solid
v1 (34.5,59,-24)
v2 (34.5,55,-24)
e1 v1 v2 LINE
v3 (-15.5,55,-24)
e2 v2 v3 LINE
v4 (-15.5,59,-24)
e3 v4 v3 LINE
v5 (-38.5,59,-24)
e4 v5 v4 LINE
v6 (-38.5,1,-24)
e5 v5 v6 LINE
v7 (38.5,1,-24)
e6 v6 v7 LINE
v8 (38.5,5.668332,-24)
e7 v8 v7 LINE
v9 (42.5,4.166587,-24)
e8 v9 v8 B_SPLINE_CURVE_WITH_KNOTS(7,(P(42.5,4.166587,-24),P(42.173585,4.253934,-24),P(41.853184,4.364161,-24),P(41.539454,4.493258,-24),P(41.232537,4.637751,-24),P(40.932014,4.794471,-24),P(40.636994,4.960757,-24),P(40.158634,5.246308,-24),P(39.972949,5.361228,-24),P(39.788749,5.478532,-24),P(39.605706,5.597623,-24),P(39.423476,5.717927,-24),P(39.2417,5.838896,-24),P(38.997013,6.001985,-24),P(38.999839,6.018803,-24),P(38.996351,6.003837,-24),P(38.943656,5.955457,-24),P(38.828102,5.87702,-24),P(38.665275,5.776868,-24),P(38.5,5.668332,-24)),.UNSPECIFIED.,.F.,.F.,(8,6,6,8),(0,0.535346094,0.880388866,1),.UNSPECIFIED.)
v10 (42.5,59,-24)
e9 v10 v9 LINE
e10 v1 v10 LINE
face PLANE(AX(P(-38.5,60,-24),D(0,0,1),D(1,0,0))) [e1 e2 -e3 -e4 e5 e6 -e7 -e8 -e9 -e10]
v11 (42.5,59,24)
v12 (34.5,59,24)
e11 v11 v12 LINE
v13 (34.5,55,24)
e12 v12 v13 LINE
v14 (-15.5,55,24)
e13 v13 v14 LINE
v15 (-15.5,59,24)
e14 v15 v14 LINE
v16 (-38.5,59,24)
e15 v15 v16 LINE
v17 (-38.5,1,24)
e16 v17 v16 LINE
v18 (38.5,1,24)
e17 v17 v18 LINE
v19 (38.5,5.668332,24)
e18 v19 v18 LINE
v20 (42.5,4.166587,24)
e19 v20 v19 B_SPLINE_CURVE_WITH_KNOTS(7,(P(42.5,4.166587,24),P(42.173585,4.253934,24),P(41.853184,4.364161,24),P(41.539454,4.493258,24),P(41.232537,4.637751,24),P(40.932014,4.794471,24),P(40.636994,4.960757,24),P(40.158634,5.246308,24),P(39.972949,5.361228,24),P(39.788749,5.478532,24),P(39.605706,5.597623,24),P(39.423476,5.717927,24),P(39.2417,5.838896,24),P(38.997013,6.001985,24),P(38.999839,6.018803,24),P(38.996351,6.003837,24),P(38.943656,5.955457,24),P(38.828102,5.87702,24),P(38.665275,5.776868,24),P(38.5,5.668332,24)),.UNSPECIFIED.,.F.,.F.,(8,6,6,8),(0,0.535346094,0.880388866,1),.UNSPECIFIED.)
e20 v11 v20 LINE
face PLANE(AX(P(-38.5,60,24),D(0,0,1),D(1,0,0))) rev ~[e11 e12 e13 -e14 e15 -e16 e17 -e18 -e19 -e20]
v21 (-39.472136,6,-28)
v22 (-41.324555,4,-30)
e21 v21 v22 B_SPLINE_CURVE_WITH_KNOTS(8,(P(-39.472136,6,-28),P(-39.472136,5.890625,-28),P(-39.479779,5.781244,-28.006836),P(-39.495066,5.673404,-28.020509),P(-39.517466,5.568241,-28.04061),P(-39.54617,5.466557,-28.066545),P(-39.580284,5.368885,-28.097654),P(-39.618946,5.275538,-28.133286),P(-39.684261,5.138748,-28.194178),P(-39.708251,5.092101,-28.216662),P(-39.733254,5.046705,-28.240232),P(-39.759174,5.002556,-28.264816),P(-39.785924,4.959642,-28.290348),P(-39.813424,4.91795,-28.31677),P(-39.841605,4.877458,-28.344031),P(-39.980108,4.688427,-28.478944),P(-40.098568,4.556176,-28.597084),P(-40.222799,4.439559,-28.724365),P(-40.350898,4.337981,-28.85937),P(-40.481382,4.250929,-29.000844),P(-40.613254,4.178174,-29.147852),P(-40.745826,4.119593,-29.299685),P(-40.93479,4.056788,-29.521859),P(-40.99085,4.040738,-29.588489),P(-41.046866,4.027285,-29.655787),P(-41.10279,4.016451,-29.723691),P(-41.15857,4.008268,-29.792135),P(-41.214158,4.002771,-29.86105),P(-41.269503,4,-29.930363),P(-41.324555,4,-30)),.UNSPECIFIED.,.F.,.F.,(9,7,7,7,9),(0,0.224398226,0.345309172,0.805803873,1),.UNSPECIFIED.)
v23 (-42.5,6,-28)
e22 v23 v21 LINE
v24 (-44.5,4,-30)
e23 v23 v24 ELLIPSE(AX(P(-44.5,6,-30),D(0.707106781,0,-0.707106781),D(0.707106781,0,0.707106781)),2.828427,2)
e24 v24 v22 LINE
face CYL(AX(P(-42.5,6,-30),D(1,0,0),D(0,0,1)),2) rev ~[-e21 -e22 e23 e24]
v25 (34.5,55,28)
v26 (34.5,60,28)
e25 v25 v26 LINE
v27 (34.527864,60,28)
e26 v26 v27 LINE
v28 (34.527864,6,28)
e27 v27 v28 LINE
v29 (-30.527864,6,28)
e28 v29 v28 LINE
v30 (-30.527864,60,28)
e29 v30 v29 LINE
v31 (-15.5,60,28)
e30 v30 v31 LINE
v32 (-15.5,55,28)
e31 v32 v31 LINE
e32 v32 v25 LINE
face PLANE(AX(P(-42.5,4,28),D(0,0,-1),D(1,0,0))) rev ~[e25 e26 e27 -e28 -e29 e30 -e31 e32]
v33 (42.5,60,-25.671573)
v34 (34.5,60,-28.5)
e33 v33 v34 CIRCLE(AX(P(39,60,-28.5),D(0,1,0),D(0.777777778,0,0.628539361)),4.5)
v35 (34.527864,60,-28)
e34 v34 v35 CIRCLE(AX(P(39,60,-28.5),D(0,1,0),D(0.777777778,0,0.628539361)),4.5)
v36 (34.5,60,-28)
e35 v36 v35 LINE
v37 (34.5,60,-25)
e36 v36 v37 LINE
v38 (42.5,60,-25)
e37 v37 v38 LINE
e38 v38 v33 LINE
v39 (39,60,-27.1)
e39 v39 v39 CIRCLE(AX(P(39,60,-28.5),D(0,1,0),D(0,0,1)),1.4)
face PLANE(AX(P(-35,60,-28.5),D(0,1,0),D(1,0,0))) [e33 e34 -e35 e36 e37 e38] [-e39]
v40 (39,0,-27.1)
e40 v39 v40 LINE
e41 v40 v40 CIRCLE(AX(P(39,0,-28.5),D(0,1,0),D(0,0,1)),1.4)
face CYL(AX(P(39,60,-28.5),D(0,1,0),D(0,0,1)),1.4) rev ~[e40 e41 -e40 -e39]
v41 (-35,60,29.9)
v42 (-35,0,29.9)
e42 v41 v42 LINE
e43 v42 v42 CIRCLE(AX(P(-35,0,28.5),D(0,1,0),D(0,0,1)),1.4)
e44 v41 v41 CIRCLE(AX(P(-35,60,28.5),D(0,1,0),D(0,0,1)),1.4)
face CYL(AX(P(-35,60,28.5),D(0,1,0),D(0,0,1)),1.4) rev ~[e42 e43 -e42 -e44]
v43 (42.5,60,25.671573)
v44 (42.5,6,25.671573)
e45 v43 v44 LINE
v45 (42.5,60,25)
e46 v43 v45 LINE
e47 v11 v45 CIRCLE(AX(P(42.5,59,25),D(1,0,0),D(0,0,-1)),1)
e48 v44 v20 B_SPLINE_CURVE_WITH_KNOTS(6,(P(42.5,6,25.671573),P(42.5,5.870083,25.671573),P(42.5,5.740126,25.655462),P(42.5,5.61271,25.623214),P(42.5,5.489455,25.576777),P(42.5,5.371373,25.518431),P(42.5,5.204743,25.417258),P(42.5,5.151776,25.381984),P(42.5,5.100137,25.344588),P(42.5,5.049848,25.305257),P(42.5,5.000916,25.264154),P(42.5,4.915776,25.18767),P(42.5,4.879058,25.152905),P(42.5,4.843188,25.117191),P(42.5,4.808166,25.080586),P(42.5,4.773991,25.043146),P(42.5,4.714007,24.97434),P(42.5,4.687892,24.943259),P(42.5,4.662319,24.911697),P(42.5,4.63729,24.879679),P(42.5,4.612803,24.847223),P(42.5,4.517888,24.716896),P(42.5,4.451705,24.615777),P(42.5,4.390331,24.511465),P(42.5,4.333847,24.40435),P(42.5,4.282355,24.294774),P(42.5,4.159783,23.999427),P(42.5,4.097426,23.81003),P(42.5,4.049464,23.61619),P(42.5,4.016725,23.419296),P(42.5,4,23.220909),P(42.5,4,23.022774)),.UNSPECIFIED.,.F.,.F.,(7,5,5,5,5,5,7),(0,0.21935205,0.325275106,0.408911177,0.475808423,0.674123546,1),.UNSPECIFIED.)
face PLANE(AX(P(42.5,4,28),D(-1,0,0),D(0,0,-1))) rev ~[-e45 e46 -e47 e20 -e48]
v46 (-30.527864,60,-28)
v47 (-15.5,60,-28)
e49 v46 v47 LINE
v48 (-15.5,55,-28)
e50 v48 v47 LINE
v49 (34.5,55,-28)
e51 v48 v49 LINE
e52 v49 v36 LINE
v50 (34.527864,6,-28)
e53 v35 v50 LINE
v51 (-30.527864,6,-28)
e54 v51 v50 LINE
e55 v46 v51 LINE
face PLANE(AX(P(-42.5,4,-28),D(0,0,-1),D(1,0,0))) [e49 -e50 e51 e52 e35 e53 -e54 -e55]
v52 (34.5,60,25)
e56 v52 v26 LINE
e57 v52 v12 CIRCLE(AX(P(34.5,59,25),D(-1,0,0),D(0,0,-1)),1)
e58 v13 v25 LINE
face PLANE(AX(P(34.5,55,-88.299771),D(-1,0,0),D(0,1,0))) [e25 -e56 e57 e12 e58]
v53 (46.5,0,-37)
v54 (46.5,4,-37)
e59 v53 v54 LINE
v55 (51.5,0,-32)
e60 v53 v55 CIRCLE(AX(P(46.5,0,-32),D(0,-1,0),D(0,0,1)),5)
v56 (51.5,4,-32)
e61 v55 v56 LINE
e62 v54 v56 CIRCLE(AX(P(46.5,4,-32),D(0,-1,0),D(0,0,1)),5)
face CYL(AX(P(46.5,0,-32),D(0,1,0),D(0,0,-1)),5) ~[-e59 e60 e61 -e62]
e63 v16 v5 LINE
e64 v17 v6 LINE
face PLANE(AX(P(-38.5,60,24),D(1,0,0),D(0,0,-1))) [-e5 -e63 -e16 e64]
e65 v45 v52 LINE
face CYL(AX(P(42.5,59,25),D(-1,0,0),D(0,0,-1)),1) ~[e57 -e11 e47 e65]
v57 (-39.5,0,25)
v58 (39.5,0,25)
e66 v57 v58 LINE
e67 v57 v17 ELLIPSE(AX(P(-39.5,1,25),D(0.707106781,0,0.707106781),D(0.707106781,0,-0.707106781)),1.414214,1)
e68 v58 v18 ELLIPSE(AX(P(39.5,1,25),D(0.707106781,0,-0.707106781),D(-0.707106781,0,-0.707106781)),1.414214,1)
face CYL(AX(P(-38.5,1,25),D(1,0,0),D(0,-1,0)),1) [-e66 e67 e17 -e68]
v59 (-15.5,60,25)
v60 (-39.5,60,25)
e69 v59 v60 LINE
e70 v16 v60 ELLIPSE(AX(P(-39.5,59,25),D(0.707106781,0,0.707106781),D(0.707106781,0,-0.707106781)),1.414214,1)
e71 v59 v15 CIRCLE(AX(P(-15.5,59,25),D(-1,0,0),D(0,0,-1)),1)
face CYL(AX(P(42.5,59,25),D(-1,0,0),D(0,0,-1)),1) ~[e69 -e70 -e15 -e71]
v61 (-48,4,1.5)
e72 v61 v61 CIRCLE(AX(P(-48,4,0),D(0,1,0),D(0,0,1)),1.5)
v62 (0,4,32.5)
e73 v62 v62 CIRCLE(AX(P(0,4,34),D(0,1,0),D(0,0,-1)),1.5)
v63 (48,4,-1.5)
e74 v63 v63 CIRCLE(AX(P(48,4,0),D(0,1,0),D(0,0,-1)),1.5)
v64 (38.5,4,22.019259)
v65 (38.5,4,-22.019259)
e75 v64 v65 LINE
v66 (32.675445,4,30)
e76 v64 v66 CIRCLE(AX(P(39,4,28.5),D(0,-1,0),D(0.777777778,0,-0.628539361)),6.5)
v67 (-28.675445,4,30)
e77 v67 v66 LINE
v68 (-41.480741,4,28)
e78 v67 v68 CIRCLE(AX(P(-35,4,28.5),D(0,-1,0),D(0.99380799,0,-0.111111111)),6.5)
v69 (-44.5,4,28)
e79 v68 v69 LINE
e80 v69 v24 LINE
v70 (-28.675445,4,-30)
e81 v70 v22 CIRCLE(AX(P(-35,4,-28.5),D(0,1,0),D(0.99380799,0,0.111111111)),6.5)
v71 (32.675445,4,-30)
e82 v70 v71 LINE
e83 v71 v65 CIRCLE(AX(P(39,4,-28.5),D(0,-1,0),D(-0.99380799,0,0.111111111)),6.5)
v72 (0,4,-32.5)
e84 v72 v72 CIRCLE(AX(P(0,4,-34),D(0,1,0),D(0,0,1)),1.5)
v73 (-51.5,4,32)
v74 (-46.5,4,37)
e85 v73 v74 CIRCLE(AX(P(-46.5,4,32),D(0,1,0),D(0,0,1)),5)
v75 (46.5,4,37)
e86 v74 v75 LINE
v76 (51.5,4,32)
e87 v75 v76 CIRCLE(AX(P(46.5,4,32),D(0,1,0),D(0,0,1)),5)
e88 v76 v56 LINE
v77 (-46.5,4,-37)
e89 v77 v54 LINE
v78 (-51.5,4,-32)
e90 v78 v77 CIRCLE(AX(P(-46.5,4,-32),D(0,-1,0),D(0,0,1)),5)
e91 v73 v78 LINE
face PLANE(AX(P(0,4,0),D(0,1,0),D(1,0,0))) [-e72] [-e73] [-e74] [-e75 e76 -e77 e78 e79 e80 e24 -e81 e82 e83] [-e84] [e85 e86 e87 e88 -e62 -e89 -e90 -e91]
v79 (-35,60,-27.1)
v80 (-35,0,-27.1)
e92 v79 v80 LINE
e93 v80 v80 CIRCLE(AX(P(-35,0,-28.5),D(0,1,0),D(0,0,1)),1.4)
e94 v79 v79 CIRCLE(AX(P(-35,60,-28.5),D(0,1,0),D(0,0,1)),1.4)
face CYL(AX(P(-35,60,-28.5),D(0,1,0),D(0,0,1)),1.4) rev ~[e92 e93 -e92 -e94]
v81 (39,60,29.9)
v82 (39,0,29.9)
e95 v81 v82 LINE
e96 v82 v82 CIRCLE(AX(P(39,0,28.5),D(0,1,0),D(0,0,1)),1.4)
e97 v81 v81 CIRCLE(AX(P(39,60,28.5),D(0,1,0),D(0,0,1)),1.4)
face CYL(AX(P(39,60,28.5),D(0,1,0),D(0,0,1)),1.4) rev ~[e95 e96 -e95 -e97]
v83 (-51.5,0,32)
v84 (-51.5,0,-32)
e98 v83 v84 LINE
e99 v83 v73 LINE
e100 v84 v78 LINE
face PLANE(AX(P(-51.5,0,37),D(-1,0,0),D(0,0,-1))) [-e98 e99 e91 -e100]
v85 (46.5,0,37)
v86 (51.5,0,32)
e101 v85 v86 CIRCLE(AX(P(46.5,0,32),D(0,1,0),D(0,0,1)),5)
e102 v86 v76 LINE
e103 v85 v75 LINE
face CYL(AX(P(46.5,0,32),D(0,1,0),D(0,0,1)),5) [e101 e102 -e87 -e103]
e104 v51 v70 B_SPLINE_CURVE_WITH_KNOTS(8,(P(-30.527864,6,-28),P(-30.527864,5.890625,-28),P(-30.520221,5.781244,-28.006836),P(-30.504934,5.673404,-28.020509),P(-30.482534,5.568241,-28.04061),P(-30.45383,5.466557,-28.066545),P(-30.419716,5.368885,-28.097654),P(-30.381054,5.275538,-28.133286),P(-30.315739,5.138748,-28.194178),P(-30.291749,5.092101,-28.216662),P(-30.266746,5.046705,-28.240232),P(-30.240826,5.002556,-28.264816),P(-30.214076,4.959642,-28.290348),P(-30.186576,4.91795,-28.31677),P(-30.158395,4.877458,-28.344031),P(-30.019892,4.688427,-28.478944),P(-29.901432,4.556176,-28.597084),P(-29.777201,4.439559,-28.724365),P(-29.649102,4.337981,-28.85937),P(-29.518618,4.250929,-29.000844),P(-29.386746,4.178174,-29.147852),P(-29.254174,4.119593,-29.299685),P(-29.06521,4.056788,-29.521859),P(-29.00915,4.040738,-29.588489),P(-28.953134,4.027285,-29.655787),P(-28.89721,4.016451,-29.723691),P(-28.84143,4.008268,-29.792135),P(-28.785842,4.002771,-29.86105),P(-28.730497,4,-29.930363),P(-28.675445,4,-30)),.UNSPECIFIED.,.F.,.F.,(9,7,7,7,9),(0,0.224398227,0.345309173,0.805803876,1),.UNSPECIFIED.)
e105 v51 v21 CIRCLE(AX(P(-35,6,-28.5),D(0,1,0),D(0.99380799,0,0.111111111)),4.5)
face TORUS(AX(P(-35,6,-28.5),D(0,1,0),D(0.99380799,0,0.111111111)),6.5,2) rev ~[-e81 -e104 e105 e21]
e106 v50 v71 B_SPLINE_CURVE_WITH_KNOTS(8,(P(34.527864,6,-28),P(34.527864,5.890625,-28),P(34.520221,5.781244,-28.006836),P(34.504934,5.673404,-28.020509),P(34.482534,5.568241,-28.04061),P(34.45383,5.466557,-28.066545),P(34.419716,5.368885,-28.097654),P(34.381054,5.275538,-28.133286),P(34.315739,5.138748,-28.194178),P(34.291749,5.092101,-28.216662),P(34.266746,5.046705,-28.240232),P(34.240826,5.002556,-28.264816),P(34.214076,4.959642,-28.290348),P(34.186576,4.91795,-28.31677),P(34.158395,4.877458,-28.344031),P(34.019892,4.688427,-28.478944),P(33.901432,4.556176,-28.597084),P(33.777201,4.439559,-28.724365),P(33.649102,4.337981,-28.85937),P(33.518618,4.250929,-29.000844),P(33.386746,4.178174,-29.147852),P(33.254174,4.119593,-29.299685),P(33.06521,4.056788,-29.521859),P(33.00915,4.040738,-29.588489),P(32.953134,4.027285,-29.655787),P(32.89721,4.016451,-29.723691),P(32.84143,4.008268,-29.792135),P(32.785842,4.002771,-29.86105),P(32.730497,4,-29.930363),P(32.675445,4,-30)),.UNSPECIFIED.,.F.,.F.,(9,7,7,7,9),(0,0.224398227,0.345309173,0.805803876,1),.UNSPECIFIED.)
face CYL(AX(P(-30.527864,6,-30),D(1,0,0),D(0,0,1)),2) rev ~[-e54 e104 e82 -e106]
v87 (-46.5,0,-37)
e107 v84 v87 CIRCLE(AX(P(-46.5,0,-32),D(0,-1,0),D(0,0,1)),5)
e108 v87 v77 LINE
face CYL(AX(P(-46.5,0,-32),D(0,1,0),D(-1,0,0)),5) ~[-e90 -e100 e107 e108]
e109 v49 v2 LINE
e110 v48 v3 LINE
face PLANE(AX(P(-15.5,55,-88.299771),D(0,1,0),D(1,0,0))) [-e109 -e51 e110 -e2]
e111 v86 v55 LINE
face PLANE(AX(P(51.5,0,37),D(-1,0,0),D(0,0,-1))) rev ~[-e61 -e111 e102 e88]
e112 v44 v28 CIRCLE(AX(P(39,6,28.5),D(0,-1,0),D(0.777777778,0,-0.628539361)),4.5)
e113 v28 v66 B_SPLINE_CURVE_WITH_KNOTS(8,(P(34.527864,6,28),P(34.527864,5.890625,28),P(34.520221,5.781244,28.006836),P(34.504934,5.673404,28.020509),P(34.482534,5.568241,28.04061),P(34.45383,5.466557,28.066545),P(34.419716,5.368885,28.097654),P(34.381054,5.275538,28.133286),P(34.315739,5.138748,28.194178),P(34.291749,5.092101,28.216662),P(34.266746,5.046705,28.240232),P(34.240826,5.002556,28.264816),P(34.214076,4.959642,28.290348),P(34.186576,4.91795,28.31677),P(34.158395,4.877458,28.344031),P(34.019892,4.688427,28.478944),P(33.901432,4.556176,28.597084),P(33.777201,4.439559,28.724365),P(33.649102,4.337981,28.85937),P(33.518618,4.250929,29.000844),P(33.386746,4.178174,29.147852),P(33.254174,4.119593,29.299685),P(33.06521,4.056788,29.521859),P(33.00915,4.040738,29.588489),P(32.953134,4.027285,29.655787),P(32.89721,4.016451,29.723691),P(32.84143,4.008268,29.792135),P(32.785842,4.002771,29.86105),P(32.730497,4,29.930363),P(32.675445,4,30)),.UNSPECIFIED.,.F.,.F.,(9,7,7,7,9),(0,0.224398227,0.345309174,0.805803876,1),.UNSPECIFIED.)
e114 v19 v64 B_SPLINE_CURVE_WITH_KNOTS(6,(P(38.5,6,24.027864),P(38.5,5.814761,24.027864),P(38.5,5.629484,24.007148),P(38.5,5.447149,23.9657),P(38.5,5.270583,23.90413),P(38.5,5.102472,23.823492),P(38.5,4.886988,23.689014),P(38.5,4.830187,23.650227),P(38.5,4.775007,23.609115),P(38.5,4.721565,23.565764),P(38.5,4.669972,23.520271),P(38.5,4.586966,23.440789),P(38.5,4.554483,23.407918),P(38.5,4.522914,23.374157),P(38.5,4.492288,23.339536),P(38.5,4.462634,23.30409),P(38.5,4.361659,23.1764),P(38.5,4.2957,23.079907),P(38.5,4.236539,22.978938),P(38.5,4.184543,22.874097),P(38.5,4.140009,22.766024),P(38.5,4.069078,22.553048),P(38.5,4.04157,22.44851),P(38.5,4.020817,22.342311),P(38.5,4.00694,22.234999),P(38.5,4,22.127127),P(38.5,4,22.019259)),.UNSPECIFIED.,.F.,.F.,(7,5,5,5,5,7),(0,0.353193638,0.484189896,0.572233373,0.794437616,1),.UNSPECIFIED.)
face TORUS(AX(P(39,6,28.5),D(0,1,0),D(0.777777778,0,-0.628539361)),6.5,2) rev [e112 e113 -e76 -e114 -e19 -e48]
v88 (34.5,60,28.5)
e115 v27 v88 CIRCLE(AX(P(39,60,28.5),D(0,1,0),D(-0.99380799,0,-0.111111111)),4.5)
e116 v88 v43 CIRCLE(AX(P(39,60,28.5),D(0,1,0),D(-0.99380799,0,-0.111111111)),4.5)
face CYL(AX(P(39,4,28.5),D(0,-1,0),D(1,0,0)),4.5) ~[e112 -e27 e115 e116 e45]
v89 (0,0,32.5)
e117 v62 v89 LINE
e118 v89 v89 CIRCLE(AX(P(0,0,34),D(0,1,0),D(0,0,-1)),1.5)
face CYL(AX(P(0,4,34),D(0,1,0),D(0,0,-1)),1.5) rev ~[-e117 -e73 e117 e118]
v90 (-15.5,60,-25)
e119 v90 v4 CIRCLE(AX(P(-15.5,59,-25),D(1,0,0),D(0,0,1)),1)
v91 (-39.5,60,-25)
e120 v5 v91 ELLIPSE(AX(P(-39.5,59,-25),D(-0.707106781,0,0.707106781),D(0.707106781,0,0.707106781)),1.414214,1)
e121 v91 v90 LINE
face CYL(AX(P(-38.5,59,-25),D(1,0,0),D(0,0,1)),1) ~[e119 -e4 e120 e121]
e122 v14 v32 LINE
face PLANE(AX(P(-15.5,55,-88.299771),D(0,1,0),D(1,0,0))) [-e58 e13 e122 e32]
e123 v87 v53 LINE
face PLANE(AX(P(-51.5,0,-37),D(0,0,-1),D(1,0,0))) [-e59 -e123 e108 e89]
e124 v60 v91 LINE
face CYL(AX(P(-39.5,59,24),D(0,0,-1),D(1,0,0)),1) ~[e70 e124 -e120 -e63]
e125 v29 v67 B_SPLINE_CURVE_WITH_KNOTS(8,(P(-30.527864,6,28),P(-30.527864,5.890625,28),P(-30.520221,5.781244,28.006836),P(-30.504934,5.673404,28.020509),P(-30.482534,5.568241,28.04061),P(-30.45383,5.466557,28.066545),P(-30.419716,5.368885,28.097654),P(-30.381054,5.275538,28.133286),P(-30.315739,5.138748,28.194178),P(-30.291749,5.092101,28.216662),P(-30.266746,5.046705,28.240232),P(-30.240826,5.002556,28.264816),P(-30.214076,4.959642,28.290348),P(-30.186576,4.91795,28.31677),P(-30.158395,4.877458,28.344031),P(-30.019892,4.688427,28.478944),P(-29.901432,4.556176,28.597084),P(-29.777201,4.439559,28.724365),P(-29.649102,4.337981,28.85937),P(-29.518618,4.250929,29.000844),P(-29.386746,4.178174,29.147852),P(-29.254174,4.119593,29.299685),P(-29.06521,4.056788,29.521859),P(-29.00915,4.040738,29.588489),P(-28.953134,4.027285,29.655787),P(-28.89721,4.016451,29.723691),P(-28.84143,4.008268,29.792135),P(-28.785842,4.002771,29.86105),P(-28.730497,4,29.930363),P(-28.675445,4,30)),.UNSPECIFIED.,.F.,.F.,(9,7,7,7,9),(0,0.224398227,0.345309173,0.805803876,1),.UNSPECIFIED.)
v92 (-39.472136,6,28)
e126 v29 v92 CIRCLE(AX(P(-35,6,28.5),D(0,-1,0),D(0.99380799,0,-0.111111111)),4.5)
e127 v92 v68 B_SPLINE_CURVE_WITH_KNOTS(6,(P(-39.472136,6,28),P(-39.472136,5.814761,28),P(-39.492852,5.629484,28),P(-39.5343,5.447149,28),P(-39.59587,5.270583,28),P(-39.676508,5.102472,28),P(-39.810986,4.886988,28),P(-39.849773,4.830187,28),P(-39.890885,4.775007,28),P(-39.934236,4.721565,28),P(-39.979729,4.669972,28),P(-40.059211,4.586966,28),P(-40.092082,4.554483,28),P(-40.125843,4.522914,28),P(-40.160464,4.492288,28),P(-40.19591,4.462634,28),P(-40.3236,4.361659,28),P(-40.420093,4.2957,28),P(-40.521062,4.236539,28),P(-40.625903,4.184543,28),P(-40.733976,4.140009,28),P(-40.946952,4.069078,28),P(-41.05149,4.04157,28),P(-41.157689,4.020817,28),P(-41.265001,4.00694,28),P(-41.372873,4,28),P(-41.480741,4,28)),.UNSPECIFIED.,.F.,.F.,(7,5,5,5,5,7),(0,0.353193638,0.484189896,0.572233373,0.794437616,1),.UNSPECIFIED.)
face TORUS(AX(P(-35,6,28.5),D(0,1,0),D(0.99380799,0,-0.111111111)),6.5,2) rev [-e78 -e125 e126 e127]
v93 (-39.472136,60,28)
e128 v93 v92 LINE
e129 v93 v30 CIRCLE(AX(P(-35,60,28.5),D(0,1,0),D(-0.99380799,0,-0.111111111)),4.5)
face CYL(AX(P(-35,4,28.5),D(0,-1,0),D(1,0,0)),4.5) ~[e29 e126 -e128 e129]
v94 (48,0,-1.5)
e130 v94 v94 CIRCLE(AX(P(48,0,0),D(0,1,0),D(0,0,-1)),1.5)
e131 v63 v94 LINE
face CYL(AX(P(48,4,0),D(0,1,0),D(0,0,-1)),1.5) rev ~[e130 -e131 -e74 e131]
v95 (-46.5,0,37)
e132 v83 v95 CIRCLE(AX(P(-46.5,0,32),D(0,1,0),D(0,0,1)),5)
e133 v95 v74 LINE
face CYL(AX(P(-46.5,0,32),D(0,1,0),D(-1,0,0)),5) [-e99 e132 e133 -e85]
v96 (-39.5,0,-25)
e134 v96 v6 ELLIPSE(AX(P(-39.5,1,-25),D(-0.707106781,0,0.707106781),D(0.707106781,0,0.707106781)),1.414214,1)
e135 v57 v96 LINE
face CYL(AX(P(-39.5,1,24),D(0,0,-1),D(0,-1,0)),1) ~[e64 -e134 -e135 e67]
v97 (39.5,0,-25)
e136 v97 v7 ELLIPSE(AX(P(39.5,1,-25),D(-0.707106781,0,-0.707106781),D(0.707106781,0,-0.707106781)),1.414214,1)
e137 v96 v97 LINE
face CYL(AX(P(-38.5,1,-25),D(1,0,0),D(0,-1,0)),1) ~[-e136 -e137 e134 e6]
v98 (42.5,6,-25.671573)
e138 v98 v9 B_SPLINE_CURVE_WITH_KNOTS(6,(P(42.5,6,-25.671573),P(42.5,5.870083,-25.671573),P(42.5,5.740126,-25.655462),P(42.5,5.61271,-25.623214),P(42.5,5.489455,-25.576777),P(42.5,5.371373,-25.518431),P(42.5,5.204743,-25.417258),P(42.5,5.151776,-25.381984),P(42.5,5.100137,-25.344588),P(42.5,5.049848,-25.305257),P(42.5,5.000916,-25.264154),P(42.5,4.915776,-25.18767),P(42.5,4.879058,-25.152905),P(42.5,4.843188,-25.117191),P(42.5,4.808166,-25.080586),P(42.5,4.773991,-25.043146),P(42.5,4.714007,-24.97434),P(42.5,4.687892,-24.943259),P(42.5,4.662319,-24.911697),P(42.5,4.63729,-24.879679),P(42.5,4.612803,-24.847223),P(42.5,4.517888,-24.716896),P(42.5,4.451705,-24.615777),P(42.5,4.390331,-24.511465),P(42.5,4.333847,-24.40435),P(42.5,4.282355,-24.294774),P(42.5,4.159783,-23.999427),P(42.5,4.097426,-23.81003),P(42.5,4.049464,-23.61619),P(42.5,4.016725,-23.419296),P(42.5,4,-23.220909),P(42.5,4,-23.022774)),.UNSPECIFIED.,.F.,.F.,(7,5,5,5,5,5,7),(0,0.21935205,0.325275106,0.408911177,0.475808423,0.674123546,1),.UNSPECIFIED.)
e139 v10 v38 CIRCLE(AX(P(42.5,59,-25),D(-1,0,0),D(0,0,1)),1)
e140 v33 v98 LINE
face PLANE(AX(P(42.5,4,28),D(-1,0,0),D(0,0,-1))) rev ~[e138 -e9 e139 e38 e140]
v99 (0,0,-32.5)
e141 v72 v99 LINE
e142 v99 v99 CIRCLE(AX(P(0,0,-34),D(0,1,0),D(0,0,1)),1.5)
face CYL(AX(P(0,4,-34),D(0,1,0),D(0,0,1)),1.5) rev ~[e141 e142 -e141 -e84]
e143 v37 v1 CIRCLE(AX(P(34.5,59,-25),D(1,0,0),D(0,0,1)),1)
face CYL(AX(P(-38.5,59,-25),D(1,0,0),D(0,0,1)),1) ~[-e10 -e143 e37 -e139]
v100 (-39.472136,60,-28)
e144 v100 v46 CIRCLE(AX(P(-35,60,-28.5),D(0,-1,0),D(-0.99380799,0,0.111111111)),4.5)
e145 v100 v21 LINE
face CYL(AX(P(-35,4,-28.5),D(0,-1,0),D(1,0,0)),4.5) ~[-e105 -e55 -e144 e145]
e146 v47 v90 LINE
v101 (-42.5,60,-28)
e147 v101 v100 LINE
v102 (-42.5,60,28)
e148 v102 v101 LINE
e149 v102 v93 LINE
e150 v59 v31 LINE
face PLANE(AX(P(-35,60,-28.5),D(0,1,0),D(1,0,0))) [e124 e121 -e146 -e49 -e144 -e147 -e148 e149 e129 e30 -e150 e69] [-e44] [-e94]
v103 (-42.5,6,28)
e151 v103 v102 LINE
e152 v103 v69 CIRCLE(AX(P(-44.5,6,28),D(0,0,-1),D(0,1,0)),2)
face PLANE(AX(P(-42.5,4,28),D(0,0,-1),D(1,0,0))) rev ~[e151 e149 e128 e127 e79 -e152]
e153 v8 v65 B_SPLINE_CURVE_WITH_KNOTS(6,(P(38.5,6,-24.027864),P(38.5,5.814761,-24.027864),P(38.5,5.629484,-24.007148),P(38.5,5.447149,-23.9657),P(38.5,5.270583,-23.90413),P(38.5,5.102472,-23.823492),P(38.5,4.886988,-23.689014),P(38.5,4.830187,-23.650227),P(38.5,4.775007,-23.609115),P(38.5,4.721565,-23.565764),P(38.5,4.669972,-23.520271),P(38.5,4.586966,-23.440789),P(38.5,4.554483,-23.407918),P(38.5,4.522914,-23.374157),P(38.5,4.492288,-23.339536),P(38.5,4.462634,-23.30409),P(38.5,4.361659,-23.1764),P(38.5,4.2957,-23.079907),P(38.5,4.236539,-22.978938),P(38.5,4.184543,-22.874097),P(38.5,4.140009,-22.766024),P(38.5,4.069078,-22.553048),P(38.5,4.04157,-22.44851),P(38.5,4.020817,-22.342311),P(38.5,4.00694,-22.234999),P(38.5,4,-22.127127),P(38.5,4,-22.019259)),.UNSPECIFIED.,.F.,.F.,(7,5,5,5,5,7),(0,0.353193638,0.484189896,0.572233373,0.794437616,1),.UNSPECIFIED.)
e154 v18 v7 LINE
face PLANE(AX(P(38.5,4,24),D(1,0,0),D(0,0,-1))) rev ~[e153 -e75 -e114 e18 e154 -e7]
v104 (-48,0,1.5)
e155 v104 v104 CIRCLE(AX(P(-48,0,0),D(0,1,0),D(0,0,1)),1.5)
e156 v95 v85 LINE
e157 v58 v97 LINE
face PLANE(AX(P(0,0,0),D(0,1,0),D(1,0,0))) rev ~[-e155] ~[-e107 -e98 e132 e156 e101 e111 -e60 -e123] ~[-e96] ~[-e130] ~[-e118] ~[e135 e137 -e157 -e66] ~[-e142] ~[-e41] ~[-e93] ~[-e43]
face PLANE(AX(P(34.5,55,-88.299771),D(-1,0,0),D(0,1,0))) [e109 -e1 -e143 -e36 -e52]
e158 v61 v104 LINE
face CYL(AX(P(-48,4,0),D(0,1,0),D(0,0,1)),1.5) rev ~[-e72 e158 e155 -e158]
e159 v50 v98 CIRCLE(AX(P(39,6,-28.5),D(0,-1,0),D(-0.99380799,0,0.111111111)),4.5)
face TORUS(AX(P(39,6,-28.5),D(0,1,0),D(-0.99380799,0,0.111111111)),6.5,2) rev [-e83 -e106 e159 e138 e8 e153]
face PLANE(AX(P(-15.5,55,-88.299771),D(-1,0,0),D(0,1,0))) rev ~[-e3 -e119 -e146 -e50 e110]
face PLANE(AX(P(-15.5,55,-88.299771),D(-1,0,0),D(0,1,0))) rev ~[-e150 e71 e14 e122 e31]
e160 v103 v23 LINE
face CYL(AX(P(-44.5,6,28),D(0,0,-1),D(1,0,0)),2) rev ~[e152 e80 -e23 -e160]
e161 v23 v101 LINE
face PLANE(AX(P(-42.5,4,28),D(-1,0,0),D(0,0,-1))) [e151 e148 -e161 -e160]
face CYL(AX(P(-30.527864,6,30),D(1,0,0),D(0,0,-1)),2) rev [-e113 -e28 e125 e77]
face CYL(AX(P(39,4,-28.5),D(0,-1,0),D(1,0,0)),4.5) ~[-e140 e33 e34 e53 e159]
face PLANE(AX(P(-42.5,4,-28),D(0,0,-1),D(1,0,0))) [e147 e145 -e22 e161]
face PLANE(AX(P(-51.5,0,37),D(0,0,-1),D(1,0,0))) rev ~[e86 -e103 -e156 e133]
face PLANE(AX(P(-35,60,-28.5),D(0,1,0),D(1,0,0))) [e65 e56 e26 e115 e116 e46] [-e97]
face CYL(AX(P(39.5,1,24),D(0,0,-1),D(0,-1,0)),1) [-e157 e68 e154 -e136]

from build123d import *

# Parameters (mm, degrees)
SKETCH_1_W               = 103
SKETCH_1_H               = 74
EXTRUDE_1_DEPTH          = 4
SKETCH_2_W               = 85
SKETCH_2_H               = 56
EXTRUDE_2_DEPTH          = 56
SKETCH_3_W               = 81
SKETCH_3_H               = 48
CUT_EXTRUDE_1_DEPTH      = 56
SKETCH_7_R               = 4.5
EXTRUDE_3_DEPTH          = 56
SKETCH_8_R               = 1.4
CUT_EXTRUDE_4_DEPTH      = 88.299770905
SKETCH_4_R               = 1.5
CUT_EXTRUDE_2_DEPTH      = 85.600531913
SKETCH_5_W               = 77
SKETCH_5_H               = 48
CUT_EXTRUDE_3_DEPTH      = 26
FILLET_8_R               = 2
FILLET_7_R               = 1
CUT_EXTRUDE_5_DEPTH      = 88.299770973
CUT_EXTRUDE_5_DEPTH_BACK = 88.299770973
SKETCH_9_W               = 50
SKETCH_9_H               = 5
FILLET_9_R               = 5


with BuildPart() as part:
    # 草图1 → 凸台-拉伸1 (new body)
    with BuildSketch(Plane(origin=(0, 0, 0), x_dir=(1, 0, 0), z_dir=(0, 1, 0))):
        Rectangle(SKETCH_1_W, SKETCH_1_H)
    extrude(amount=EXTRUDE_1_DEPTH)

    # 草图2 → 凸台-拉伸2 (add)
    with BuildSketch(Plane(origin=(0, 4, 0), x_dir=(1, 0, 0), z_dir=(0, 1, 0))):
        Rectangle(SKETCH_2_W, SKETCH_2_H)
    extrude(amount=EXTRUDE_2_DEPTH)

    # 草图3 → 切除-拉伸1 (cut)
    with BuildSketch(Plane(origin=(0, 60, 0), x_dir=(1, 0, 0), z_dir=(0, 1, 0))):
        with Locations((2, 0)):
            Rectangle(SKETCH_3_W, SKETCH_3_H)
    extrude(amount=-CUT_EXTRUDE_1_DEPTH, mode=Mode.SUBTRACT)

    # 草图7 → 凸台-拉伸3 (add)
    with BuildSketch(Plane(origin=(0, 4, 0), x_dir=(1, 0, 0), z_dir=(0, 1, 0))):
        with Locations((-35, 28.5)):
            Circle(SKETCH_7_R)
        with Locations((39, 28.5)):
            Circle(SKETCH_7_R)
        with Locations((39, -28.5)):
            Circle(SKETCH_7_R)
        with Locations((-35, -28.5)):
            Circle(SKETCH_7_R)
    extrude(amount=EXTRUDE_3_DEPTH)

    # 草图8 → 切除-拉伸4 (cut, through all)
    with BuildSketch(Plane(origin=(0, 60, 0), x_dir=(1, 0, 0), z_dir=(0, 1, 0))):
        with Locations(Location((-35, 28.5, 0), (0, 0, 270))):
            Circle(SKETCH_8_R)
        with Locations(Location((39, 28.5, 0), (0, 0, 270))):
            Circle(SKETCH_8_R)
        with Locations(Location((-35, -28.5, 0), (0, 0, 270))):
            Circle(SKETCH_8_R)
        with Locations(Location((39, -28.5, 0), (0, 0, 270))):
            Circle(SKETCH_8_R)
    extrude(amount=-CUT_EXTRUDE_4_DEPTH, mode=Mode.SUBTRACT)

    # 草图4 → 切除-拉伸2 (cut, through all)
    with BuildSketch(Plane(origin=(0, 4, 0), x_dir=(1, 0, 0), z_dir=(0, 1, 0))):
        with Locations(Location((-48, 0, 0), (0, 0, 270))):
            Circle(SKETCH_4_R)
        with Locations(Location((48, 0, 0), (0, 0, 90))):
            Circle(SKETCH_4_R)
        with Locations(Location((0, 34, 0), (0, 0, 270))):
            Circle(SKETCH_4_R)
        with Locations(Location((0, -34, 0), (0, 0, 90))):
            Circle(SKETCH_4_R)
    extrude(amount=-CUT_EXTRUDE_2_DEPTH, mode=Mode.SUBTRACT)

    # 草图5 → 切除-拉伸3 (cut)
    with BuildSketch(Plane(origin=(0, 4, 0), x_dir=(1, 0, 0), z_dir=(0, 1, 0))):
        Rectangle(SKETCH_5_W, SKETCH_5_H)
    extrude(amount=-CUT_EXTRUDE_3_DEPTH, mode=Mode.SUBTRACT)

    # 圆角8
    fillet_8_edges = [part.edges().sort_by_distance(p)[0] for p in [
        (40.261608219, 4, -32.819530611),
        (2, 4, -28),
        (-35, 4, -33),
        (-40.986067977, 4, -28),
        (-42.5, 4, 0),
        (-35, 4, 33),
        (40.261608219, 4, 32.819530611),
        (2, 4, 28),
    ]]
    fillet(fillet_8_edges, radius=FILLET_8_R)

    # 圆角7
    fillet_7_edges = [part.edges().sort_by_distance(p)[0] for p in [
        (0, 0, -24),
        (-38.5, 0, 0),
        (38.5, 0, 0),
        (0, 0, 24),
        (2, 60, -24),
        (-38.5, 60, 0),
        (2, 60, 24),
    ]]
    fillet(fillet_7_edges, radius=FILLET_7_R)

    # 草图9 → 切除-拉伸5 (cut, two sides: drawn at the far end of the back side and taken through both)
    with BuildSketch(Plane.XY.offset(-CUT_EXTRUDE_5_DEPTH_BACK)):
        with Locations((9.5, 57.5)):
            Rectangle(SKETCH_9_W, SKETCH_9_H)
    extrude(amount=CUT_EXTRUDE_5_DEPTH + CUT_EXTRUDE_5_DEPTH_BACK, mode=Mode.SUBTRACT)

    # 圆角9
    fillet_9_edges = [part.edges().sort_by_distance(p)[0] for p in [
        (51.5, 2, 37),
        (-51.5, 2, 37),
        (-51.5, 2, -37),
        (51.5, 2, -37),
    ]]
    fillet(fillet_9_edges, radius=FILLET_9_R)


solid = part.part
